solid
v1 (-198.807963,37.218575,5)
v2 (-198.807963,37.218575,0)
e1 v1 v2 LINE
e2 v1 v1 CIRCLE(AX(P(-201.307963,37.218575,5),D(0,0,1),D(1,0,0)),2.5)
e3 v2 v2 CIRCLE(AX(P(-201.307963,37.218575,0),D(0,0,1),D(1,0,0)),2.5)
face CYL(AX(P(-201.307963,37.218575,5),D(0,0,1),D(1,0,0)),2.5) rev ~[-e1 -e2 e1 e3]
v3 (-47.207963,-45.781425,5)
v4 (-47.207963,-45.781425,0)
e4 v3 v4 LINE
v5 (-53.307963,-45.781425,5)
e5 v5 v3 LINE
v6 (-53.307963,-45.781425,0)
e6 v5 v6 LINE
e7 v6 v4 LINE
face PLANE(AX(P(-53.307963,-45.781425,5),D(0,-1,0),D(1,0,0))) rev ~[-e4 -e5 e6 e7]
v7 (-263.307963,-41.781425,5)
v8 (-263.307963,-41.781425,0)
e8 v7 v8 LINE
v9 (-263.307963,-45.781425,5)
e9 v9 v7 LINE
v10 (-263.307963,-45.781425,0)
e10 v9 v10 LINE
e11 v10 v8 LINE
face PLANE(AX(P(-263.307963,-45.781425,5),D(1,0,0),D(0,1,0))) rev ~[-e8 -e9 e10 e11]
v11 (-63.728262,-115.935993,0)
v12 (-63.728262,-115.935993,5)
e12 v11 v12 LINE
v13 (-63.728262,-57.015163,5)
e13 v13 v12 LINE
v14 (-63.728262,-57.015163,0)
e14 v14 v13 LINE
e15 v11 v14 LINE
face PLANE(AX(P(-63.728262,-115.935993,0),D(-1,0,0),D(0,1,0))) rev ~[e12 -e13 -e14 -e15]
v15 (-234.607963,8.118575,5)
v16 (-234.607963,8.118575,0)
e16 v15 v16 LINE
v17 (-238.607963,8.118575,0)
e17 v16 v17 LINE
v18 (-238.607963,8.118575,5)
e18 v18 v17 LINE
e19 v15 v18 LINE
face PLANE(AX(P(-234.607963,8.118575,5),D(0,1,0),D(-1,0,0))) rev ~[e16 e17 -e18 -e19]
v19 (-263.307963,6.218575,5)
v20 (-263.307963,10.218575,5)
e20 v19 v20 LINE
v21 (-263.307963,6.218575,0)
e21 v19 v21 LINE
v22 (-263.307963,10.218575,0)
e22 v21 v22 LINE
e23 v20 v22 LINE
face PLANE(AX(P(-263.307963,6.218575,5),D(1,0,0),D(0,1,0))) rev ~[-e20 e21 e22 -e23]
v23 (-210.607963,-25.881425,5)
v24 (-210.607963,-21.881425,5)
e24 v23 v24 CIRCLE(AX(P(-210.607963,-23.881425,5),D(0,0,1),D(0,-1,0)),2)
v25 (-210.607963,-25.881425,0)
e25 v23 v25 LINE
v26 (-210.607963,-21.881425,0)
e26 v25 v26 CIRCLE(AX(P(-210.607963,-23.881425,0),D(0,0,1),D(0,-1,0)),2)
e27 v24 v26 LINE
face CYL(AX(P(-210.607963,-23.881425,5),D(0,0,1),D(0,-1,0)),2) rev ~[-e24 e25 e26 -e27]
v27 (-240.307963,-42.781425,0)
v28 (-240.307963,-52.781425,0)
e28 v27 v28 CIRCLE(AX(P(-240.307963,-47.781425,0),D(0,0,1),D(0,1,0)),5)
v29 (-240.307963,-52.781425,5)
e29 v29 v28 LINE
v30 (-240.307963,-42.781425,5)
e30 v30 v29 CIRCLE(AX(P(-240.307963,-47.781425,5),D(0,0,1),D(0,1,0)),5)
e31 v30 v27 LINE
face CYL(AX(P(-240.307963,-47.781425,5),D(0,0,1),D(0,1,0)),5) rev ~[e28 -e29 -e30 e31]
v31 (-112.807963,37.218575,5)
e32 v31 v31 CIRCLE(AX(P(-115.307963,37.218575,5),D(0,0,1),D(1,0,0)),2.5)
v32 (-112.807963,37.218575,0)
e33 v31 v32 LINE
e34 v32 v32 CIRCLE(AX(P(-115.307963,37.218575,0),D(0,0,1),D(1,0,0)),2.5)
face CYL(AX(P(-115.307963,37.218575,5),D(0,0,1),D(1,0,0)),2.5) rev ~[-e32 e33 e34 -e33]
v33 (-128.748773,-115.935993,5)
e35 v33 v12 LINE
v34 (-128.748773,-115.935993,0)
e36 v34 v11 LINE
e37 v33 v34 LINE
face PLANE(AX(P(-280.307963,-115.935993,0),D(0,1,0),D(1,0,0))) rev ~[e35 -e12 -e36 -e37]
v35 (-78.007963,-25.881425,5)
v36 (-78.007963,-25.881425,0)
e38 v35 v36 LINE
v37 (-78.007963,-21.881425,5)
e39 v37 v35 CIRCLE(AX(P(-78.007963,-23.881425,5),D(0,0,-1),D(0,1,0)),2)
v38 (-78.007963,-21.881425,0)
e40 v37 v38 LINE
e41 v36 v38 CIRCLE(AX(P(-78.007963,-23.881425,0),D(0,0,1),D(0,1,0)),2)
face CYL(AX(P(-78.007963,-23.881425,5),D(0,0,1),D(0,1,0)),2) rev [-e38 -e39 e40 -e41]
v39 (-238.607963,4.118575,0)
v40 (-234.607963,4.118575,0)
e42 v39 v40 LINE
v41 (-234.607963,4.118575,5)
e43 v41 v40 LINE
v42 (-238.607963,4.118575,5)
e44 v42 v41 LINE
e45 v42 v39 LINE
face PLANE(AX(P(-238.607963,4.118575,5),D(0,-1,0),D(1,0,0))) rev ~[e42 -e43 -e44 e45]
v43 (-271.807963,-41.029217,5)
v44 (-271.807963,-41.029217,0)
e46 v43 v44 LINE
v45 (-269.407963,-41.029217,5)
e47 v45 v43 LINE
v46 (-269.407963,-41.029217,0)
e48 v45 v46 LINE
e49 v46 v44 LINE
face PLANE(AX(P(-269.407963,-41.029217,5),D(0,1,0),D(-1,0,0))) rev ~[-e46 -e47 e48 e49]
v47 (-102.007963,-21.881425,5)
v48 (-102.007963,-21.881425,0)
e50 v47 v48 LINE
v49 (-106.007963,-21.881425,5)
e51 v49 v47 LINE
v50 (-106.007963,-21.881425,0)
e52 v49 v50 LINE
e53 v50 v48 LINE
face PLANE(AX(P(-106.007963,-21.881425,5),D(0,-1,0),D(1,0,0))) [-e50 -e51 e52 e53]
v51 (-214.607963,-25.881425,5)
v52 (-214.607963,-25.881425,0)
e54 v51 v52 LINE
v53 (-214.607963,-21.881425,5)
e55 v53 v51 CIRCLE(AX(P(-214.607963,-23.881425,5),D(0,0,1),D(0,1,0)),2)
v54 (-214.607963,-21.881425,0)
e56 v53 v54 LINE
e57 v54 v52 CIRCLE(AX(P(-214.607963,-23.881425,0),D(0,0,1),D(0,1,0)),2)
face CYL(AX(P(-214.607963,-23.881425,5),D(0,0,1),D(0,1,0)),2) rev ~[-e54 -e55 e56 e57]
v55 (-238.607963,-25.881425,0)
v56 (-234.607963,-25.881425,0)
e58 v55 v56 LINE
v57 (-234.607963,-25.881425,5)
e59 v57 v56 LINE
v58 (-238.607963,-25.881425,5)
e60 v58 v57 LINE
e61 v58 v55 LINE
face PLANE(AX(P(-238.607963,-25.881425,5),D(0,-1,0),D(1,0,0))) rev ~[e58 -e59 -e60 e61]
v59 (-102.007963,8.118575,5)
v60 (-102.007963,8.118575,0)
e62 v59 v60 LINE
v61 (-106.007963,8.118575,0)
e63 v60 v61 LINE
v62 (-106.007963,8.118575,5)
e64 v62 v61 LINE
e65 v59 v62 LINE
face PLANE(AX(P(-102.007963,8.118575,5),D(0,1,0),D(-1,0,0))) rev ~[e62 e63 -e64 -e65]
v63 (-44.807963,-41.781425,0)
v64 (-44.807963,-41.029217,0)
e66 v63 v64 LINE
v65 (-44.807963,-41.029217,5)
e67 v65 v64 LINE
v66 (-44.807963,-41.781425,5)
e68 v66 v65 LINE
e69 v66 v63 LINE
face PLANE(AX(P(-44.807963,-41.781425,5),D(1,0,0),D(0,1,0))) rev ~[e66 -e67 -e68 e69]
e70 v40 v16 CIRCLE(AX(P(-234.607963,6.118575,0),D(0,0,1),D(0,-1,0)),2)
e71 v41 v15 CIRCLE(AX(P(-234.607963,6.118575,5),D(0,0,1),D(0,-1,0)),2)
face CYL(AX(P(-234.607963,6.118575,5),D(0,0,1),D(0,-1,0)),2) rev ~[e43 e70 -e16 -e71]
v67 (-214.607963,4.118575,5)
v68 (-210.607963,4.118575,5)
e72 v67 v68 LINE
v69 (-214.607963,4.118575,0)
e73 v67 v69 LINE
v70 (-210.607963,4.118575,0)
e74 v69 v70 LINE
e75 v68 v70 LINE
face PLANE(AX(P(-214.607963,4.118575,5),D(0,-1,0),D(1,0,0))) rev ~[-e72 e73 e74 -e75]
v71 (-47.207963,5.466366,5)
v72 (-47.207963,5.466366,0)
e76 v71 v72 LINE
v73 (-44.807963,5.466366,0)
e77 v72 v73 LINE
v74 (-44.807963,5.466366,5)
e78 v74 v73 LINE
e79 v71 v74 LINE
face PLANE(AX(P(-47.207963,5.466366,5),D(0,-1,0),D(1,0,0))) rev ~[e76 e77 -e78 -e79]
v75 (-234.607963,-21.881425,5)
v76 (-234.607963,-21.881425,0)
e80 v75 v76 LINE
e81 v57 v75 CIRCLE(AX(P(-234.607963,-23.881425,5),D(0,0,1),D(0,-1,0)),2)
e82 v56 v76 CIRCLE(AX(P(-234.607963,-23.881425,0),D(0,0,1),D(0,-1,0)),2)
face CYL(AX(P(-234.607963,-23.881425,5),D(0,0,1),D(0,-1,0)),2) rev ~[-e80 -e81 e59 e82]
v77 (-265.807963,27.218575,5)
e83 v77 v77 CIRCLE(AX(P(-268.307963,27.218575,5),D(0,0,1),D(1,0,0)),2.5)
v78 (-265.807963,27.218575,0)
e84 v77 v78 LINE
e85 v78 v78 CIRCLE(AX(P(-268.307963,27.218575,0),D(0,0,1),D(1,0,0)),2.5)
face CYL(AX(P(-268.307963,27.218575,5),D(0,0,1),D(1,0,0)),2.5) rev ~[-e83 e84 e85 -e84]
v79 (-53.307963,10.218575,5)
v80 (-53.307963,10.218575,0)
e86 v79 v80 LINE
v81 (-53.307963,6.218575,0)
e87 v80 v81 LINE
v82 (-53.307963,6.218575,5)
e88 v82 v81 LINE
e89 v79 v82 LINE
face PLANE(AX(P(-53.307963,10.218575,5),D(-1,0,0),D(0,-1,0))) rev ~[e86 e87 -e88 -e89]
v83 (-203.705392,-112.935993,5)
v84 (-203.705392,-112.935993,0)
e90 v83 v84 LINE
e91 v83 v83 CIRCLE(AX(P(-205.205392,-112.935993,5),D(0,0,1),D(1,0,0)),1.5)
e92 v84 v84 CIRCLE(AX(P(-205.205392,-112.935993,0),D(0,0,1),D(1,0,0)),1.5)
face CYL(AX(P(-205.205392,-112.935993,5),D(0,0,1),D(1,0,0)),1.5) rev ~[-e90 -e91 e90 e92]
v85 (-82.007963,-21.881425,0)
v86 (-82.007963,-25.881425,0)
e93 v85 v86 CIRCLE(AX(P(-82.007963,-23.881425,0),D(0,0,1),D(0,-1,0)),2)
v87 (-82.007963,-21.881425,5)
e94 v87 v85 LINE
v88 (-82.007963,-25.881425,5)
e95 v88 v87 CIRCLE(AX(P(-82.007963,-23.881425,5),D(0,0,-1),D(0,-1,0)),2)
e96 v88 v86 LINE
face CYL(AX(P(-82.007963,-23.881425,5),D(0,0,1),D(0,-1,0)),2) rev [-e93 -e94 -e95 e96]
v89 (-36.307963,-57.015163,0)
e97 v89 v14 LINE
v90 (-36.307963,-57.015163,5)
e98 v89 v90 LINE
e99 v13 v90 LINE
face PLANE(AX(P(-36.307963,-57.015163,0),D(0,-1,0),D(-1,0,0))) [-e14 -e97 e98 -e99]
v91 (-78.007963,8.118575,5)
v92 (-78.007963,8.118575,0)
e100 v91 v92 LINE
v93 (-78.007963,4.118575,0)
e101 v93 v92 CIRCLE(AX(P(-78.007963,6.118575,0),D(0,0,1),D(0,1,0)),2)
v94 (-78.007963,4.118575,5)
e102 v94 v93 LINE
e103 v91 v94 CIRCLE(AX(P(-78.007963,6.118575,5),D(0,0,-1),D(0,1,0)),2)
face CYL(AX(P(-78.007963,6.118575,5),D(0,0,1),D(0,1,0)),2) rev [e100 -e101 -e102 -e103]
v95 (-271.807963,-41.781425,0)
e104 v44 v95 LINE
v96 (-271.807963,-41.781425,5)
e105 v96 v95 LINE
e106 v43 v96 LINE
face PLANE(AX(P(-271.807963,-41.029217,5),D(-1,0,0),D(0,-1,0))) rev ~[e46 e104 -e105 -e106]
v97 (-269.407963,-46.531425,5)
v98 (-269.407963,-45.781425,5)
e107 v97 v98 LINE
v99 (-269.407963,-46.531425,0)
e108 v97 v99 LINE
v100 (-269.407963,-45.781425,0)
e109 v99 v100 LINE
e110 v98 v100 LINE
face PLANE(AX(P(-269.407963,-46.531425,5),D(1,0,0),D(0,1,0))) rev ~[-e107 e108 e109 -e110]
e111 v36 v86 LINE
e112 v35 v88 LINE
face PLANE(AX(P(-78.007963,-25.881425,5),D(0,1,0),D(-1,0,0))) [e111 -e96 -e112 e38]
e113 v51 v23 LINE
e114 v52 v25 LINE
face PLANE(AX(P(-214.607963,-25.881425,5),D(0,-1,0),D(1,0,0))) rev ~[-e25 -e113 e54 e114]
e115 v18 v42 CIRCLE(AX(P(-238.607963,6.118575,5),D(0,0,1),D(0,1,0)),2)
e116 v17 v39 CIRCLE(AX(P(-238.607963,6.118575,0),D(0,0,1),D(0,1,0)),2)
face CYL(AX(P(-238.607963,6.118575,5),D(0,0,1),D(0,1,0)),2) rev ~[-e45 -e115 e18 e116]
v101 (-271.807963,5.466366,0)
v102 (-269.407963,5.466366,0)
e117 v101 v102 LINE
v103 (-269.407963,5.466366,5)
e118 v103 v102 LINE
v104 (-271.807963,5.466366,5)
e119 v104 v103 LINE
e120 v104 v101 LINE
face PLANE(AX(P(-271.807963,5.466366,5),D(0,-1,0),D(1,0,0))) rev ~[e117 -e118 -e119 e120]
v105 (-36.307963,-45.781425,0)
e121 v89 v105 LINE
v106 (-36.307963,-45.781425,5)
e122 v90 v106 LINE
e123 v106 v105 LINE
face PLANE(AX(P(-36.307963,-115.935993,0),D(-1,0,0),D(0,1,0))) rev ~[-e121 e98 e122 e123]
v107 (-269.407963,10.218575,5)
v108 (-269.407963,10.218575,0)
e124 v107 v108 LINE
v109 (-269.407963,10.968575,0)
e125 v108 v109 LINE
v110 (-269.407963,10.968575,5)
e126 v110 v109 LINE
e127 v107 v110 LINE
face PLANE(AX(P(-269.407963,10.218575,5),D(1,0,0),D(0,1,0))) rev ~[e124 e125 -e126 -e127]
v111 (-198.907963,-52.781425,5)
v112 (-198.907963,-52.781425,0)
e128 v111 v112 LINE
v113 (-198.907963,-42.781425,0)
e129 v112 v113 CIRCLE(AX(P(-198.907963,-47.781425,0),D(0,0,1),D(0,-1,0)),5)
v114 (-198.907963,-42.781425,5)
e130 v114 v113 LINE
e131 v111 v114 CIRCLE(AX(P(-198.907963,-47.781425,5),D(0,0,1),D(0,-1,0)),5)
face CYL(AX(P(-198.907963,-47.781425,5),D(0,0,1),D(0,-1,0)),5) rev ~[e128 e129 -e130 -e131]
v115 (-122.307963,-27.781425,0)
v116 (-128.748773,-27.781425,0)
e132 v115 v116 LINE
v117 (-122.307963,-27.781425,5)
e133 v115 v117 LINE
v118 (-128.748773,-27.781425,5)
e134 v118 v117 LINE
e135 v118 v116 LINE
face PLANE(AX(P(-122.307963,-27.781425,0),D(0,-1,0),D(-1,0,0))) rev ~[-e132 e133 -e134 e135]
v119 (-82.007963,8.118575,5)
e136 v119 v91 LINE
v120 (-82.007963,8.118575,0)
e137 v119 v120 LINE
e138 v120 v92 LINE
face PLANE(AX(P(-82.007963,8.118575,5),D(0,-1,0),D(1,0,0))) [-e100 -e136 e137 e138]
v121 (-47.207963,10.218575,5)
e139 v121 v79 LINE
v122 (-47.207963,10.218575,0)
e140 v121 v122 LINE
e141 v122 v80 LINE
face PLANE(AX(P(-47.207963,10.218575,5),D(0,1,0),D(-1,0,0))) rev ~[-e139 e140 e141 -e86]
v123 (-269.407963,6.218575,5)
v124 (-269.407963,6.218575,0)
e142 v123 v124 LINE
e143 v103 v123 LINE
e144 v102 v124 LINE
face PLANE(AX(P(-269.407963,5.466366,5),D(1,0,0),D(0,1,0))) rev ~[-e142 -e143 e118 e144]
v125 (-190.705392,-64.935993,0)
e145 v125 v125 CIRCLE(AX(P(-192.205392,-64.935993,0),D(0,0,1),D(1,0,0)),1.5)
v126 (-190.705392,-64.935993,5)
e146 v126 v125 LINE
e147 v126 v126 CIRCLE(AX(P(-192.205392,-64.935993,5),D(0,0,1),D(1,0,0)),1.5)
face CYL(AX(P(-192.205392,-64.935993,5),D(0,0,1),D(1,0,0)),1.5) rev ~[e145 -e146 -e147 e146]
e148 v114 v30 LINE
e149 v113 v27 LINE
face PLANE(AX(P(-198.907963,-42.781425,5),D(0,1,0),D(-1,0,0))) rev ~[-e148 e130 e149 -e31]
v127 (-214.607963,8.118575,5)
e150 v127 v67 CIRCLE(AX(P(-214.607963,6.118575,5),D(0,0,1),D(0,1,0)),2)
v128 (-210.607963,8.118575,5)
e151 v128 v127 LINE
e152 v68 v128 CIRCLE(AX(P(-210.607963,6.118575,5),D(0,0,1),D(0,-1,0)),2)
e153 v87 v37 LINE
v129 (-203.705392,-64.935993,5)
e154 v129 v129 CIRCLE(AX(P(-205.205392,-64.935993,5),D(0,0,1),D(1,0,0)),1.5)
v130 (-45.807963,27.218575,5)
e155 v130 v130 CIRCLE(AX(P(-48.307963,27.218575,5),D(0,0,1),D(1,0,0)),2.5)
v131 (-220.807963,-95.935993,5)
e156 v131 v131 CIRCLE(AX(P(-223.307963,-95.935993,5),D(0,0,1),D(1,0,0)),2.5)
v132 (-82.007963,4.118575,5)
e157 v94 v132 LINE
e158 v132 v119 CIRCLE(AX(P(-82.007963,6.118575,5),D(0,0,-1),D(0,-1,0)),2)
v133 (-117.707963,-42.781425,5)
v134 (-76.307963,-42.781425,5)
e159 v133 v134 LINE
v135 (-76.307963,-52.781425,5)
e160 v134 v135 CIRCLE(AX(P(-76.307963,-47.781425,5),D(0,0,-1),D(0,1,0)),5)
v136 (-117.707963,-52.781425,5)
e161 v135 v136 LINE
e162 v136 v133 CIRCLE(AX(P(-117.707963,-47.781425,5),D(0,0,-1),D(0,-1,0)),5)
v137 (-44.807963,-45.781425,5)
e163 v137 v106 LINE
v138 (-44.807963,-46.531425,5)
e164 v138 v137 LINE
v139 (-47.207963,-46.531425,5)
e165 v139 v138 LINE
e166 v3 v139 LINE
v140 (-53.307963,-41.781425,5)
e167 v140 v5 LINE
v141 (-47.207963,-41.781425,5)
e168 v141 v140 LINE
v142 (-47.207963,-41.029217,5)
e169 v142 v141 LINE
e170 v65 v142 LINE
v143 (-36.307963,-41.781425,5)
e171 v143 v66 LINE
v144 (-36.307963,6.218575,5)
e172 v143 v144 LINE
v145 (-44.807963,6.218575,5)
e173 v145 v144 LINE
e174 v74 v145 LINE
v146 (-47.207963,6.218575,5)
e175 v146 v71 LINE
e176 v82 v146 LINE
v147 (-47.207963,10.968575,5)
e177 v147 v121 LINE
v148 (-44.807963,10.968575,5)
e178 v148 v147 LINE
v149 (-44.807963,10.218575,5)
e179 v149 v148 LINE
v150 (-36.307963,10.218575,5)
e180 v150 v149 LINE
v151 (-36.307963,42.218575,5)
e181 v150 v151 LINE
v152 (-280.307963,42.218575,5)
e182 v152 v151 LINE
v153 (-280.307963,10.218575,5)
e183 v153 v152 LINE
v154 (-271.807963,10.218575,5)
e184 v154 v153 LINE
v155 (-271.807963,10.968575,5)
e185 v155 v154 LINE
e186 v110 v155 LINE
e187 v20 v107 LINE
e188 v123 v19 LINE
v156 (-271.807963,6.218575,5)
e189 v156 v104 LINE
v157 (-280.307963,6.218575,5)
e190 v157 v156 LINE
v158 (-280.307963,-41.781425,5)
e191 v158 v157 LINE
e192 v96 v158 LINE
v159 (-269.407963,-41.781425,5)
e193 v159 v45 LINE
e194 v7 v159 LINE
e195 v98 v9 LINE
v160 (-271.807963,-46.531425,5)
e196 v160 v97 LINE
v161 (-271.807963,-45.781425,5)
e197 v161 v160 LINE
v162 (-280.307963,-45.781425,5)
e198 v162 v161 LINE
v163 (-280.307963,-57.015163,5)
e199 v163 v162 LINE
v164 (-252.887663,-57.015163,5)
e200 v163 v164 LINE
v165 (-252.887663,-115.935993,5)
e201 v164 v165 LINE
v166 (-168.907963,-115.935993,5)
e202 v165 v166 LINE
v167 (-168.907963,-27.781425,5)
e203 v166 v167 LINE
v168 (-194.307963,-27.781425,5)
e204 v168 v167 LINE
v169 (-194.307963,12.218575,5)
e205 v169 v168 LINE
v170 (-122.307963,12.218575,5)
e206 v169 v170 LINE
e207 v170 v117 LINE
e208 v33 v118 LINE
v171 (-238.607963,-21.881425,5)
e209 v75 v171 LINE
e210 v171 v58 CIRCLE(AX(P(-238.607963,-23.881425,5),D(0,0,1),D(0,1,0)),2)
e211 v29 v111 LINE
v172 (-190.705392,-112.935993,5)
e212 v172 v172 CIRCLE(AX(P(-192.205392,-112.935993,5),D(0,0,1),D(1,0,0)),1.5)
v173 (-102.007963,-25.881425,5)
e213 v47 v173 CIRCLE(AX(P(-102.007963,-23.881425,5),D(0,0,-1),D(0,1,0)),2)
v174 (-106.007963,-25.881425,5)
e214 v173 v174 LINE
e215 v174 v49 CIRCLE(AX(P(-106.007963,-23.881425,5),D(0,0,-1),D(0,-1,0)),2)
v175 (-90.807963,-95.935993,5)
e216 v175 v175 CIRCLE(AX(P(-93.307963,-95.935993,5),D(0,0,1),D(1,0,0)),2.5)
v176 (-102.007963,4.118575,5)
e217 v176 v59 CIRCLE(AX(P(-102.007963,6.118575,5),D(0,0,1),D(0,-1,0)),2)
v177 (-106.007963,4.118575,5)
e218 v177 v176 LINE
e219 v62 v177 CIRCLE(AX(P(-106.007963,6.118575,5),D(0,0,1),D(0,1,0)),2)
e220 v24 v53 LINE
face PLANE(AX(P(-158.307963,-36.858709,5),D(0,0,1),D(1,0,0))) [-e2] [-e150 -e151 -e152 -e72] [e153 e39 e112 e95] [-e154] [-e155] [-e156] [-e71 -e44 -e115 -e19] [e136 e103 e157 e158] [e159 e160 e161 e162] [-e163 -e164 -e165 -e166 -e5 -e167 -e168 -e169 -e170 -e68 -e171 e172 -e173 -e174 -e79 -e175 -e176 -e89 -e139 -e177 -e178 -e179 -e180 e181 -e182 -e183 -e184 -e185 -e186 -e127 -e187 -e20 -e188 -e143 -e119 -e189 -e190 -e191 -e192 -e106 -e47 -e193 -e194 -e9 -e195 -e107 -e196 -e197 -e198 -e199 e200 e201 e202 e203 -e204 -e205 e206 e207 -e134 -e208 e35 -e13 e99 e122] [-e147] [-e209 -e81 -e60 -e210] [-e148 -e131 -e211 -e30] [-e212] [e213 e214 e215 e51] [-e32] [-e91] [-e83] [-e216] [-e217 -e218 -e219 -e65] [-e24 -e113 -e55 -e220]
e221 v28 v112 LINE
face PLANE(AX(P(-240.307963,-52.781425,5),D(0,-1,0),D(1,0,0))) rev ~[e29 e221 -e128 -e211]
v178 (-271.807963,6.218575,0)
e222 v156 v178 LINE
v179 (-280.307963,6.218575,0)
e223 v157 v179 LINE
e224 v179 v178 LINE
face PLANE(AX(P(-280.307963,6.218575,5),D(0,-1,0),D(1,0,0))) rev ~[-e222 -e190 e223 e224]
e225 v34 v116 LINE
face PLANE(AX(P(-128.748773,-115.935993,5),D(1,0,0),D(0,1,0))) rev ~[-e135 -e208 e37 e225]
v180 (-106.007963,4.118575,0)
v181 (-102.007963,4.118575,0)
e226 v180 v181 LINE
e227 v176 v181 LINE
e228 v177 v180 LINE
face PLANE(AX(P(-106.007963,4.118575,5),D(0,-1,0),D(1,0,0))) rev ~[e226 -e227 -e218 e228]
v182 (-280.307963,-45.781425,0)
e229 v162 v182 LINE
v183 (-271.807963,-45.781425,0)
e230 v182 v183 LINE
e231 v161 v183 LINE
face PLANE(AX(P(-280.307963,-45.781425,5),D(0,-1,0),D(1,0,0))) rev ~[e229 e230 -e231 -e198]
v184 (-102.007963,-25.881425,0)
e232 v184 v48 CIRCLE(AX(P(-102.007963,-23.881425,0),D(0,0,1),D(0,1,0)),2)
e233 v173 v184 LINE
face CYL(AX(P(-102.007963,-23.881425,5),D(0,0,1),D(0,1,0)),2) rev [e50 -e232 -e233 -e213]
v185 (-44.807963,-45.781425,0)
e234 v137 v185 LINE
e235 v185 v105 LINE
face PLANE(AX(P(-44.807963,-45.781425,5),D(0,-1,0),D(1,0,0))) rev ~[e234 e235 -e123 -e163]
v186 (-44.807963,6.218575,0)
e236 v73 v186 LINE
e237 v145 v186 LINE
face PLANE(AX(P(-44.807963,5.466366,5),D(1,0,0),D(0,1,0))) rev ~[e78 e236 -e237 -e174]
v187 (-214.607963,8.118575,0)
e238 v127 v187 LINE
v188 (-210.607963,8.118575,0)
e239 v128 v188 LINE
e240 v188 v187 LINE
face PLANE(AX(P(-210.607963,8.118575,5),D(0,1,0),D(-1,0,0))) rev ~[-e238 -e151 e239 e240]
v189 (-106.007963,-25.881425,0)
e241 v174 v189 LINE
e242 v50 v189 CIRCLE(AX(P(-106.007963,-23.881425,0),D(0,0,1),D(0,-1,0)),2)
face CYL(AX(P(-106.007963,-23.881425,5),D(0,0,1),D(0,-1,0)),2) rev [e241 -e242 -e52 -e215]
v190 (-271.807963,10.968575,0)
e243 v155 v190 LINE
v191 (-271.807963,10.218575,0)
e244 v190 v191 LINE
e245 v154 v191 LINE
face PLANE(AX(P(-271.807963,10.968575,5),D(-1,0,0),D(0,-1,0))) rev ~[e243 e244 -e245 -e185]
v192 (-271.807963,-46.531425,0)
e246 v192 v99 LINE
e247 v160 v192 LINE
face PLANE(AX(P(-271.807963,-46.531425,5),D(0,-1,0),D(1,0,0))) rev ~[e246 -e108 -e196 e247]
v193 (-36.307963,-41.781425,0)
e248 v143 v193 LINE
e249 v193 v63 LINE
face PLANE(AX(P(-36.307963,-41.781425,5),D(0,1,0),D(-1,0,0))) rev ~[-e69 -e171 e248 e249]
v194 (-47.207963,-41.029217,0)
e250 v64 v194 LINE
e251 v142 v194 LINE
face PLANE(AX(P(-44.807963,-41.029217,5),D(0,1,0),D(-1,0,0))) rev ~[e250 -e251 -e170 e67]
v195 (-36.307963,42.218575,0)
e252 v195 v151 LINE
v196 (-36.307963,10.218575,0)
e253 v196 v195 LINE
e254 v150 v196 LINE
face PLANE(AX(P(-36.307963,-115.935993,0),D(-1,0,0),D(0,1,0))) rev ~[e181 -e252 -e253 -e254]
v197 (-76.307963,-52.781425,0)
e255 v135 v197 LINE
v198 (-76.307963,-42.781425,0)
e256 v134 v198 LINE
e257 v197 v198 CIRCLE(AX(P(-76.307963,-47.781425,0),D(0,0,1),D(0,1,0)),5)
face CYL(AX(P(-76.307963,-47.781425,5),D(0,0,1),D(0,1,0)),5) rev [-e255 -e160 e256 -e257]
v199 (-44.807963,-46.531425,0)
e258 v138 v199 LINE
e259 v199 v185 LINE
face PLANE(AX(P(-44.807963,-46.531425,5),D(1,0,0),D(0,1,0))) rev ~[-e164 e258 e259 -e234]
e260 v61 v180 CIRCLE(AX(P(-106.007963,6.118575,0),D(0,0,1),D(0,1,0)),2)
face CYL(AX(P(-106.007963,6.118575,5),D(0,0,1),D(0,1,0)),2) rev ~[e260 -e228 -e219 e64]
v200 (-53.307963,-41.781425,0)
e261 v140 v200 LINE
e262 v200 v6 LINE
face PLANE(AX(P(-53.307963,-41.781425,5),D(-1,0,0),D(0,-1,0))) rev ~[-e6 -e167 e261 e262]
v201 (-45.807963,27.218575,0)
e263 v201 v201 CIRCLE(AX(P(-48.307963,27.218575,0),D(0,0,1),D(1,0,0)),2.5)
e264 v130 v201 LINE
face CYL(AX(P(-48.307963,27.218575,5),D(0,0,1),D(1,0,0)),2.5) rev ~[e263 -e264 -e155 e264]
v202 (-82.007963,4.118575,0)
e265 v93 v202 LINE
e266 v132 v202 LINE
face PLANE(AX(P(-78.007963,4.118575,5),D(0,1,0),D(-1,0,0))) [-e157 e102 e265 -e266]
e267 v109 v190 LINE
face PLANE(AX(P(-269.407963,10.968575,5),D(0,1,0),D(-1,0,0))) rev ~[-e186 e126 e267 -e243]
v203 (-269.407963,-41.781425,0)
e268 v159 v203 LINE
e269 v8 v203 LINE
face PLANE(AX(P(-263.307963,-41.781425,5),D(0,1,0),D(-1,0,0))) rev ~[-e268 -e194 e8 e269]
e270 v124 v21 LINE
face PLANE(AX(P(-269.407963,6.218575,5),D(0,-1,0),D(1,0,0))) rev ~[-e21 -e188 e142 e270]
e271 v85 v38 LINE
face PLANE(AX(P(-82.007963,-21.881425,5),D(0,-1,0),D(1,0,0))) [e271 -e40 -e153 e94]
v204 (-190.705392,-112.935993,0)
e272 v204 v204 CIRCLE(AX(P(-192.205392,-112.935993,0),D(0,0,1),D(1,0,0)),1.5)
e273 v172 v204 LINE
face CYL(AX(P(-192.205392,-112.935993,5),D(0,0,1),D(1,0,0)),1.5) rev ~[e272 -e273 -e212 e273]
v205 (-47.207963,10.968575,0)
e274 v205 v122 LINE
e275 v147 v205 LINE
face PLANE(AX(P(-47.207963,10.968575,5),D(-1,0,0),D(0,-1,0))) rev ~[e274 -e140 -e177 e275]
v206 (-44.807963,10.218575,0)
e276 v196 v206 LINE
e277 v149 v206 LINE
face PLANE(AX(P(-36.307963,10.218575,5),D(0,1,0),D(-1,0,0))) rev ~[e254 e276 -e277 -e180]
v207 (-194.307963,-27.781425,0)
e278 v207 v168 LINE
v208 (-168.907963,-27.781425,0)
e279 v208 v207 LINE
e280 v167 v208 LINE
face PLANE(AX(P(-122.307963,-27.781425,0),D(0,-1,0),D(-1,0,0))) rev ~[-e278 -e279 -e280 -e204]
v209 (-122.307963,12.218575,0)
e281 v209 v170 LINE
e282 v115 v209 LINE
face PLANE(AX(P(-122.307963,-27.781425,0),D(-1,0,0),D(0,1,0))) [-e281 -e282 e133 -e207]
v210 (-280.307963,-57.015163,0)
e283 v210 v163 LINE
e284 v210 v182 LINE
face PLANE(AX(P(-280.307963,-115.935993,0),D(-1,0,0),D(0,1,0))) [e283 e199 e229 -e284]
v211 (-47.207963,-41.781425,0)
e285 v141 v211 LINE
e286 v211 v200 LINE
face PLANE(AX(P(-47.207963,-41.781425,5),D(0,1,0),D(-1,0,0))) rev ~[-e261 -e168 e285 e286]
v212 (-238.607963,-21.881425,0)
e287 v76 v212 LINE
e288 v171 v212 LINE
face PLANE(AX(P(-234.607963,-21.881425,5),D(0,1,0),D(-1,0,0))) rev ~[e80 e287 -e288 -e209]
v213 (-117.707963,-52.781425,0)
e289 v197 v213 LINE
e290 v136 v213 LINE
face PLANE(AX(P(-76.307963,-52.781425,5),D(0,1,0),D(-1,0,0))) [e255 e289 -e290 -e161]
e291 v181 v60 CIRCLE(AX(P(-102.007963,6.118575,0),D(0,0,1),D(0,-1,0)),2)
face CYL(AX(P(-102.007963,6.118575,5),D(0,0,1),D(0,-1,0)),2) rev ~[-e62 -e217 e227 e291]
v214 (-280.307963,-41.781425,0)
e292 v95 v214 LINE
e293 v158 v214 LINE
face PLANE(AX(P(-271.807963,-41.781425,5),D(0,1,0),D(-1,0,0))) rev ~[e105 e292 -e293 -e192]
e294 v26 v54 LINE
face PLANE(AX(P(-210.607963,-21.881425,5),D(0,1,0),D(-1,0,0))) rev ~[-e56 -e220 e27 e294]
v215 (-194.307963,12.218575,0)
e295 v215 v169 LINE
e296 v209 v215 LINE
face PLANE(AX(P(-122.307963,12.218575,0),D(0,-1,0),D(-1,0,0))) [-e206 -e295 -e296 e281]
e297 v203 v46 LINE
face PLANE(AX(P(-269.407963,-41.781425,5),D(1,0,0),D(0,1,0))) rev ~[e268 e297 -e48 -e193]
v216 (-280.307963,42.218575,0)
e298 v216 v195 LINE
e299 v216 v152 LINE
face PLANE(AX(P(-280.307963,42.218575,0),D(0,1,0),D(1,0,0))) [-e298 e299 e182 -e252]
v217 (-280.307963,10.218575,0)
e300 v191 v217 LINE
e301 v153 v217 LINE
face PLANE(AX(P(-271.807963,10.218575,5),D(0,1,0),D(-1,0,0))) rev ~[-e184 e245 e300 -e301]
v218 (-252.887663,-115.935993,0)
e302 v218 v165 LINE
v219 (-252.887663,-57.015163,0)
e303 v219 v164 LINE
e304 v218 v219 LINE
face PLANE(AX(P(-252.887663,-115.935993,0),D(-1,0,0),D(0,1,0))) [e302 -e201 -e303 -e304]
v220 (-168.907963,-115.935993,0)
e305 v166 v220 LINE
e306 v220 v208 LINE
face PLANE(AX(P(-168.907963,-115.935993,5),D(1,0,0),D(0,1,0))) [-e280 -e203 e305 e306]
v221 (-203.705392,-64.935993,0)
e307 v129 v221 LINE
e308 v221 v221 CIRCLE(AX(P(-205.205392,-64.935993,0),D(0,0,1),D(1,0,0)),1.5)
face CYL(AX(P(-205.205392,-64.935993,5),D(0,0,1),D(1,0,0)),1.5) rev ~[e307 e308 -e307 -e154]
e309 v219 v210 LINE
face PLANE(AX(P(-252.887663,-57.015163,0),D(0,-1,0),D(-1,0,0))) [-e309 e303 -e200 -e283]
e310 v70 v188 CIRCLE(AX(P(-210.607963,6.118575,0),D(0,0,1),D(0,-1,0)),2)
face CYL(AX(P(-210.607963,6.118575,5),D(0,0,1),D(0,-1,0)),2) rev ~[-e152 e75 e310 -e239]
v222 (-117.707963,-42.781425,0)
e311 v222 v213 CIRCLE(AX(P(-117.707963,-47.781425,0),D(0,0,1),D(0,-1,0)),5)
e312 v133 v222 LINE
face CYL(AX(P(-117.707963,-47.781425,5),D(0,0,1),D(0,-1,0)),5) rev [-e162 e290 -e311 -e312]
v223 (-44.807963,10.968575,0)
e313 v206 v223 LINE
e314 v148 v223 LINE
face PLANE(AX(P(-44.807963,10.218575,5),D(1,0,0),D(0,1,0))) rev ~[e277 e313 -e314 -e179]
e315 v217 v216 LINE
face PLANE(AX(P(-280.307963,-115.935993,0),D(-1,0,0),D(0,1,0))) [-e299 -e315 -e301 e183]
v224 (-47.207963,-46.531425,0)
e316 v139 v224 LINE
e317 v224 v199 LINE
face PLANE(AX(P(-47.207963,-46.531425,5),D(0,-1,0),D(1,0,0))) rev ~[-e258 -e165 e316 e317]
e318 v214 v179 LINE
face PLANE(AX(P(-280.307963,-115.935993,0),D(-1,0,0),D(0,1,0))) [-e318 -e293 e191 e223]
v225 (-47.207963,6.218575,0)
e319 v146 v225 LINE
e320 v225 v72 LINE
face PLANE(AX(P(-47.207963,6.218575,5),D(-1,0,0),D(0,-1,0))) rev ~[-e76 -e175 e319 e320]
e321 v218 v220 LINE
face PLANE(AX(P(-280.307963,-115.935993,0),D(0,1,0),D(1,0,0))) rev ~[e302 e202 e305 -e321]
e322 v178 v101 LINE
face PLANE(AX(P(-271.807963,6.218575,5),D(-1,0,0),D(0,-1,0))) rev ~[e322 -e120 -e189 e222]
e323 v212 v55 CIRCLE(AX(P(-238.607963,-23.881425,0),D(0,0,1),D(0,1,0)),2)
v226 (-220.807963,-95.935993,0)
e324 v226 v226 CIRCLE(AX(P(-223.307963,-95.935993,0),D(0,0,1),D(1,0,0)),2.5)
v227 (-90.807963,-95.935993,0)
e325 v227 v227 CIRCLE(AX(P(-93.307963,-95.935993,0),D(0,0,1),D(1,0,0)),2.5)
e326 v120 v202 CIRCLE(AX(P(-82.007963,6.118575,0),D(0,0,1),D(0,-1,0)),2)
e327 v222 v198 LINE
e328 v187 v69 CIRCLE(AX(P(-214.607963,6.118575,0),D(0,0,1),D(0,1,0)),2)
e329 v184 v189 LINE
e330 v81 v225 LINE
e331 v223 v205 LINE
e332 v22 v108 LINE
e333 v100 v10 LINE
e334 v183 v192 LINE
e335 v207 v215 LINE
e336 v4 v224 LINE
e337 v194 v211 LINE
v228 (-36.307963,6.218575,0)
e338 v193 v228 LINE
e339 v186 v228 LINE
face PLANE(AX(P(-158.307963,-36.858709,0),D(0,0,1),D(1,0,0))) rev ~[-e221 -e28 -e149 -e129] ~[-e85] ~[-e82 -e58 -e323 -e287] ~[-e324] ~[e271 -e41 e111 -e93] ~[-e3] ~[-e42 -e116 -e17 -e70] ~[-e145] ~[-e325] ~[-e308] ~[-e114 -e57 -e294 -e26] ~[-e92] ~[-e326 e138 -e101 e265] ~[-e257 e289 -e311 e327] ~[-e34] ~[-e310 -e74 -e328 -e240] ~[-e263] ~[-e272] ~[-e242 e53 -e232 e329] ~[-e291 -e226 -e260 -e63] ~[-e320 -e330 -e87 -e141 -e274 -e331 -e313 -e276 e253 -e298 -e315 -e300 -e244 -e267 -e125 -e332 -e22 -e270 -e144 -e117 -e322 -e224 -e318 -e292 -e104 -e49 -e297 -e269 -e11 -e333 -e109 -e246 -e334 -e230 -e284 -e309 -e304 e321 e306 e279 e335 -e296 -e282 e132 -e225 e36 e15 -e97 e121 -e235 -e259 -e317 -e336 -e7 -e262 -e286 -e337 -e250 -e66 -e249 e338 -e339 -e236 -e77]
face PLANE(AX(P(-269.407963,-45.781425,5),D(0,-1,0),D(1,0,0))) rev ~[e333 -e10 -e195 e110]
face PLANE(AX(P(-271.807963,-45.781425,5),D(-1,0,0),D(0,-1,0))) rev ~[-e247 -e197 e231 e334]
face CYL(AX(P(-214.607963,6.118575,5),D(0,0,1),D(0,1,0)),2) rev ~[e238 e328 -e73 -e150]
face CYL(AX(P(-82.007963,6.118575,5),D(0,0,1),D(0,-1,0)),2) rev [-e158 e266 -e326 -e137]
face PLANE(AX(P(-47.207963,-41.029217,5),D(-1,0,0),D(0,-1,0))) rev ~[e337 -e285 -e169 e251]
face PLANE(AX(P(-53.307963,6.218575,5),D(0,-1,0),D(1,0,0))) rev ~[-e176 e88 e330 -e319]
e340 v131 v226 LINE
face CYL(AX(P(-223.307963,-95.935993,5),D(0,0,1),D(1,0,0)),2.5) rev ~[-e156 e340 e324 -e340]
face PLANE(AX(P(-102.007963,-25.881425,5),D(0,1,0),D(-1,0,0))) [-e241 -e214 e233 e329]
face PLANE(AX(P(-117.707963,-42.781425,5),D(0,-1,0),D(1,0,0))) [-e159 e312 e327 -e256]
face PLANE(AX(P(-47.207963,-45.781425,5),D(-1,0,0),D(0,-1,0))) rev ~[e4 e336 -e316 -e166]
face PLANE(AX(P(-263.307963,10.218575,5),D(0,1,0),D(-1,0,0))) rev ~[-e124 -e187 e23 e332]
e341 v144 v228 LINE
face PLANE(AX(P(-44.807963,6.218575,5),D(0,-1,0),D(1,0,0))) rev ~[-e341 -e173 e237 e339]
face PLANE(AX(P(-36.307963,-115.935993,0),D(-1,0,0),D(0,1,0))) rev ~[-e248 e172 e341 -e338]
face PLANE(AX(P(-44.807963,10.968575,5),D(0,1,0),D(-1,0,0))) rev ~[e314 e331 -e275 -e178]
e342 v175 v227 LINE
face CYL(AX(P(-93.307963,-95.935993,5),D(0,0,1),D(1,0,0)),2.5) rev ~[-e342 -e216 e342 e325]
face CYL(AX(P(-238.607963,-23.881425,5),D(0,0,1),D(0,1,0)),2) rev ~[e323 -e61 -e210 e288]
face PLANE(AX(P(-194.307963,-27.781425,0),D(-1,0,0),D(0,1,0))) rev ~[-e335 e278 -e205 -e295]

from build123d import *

# Parameters (mm, degrees)
SKETCH1_W           = 244
SKETCH1_H           = 158.154567899
BOSS_EXTRUDE1_DEPTH = 5
SKETCH7_W           = 27.420299367
SKETCH7_H           = 58.920830548
SKETCH7_W_2         = 72
SKETCH7_H_2         = 40
CUT_EXTRUDE3_DEPTH  = 10
SKETCH8_W           = 40.15918936
SKETCH8_H           = 88.154567899
CUT_EXTRUDE4_DEPTH  = 10
SKETCH9_R           = 2.5
CUT_EXTRUDE5_DEPTH  = 10
CUT_EXTRUDE6_DEPTH  = 10
SKETCH13_R          = 1.5
CUT_EXTRUDE8_DEPTH  = 10
CUT_EXTRUDE10_DEPTH = 10
CUT_EXTRUDE11_DEPTH = 10


with BuildPart() as part:
    # Sketch1 → Boss-Extrude1 (new body)
    with BuildSketch(Plane.XY):
        with Locations((-158.307962763, -36.858709382)):
            Rectangle(SKETCH1_W, SKETCH1_H)
    extrude(amount=BOSS_EXTRUDE1_DEPTH)

    # Sketch7 → Cut-Extrude3 (cut)
    with BuildSketch(Plane(origin=(0, 0, 0), x_dir=(-1, 0, 0), z_dir=(0, 0, -1))):
        with Locations((266.59781308, -86.475578057)):
            Rectangle(SKETCH7_W, SKETCH7_H)
        with Locations((50.018112446, -86.475578057)):
            Rectangle(SKETCH7_W, SKETCH7_H)
        with Locations((158.307962763, -7.781425432)):
            Rectangle(SKETCH7_W_2, SKETCH7_H_2)
    extrude(amount=-CUT_EXTRUDE3_DEPTH, mode=Mode.SUBTRACT)

    # Sketch8 → Cut-Extrude4 (cut)
    with BuildSketch(Plane.XY.offset(5)):
        with Locations((-148.828368083, -71.858709382)):
            Rectangle(SKETCH8_W, SKETCH8_H)
    extrude(amount=-CUT_EXTRUDE4_DEPTH, mode=Mode.SUBTRACT)

    # Sketch9 → Cut-Extrude5 (cut)
    with BuildSketch(Plane.XY.offset(5)):
        with Locations((-93.307962763, -95.935993331)):
            Circle(SKETCH9_R)
        with Locations((-223.307962763, -95.935993331)):
            Circle(SKETCH9_R)
        with Locations((-268.307962763, 27.218574568)):
            Circle(SKETCH9_R)
        with Locations((-48.307962763, 27.218574568)):
            Circle(SKETCH9_R)
        with Locations((-115.307962763, 37.218574568)):
            Circle(SKETCH9_R)
        with Locations((-201.307962763, 37.218574568)):
            Circle(SKETCH9_R)
    extrude(amount=-CUT_EXTRUDE5_DEPTH, mode=Mode.SUBTRACT)

    # Sketch10 → Cut-Extrude6 (cut)
    with BuildSketch(Plane.XY.offset(5)):
        Polygon((-271.807962763, 10.218574568), (-280.307962763, 10.218574568), (-280.307962763, 6.218574568), (-271.807962763, 6.218574568), (-271.807962763, 5.466366238), (-269.407962763, 5.466366238), (-269.407962763, 6.218574568), (-263.307962763, 6.218574568), (-263.307962763, 10.218574568), (-269.407962763, 10.218574568), (-269.407962763, 10.968574568), (-271.807962763, 10.968574568), align=None)
        Polygon((-271.807962763, -41.781425432), (-280.307962763, -41.781425432), (-280.307962763, -45.781425432), (-271.807962763, -45.781425432), (-271.807962763, -46.531425432), (-269.407962763, -46.531425432), (-269.407962763, -45.781425432), (-263.307962763, -45.781425432), (-263.307962763, -41.781425432), (-269.407962763, -41.781425432), (-269.407962763, -41.029217101), (-271.807962763, -41.029217101), align=None)
        Polygon((-53.307962763, -41.781425432), (-53.307962763, -45.781425432), (-47.207962763, -45.781425432), (-47.207962763, -46.531425432), (-44.807962763, -46.531425432), (-44.807962763, -45.781425432), (-36.307962763, -45.781425432), (-36.307962763, -41.781425432), (-44.807962763, -41.781425432), (-44.807962763, -41.029217101), (-47.207962763, -41.029217101), (-47.207962763, -41.781425432), align=None)
        Polygon((-44.807962763, 6.218574568), (-36.307962763, 6.218574568), (-36.307962763, 10.218574568), (-44.807962763, 10.218574568), (-44.807962763, 10.968574568), (-47.207962763, 10.968574568), (-47.207962763, 10.218574568), (-53.307962763, 10.218574568), (-53.307962763, 6.218574568), (-47.207962763, 6.218574568), (-47.207962763, 5.466366238), (-44.807962763, 5.466366238), align=None)
    extrude(amount=-CUT_EXTRUDE6_DEPTH, mode=Mode.SUBTRACT)

    # Sketch13 → Cut-Extrude8 (cut)
    with BuildSketch(Plane.XY.offset(5)):
        with Locations((-205.205391913, -112.935993331)):
            Circle(SKETCH13_R)
        with Locations((-205.205391913, -64.935993331)):
            Circle(SKETCH13_R)
        with Locations((-192.205391913, -112.935993331)):
            Circle(SKETCH13_R)
        with Locations((-192.205391913, -64.935993331)):
            Circle(SKETCH13_R)
    extrude(amount=-CUT_EXTRUDE8_DEPTH, mode=Mode.SUBTRACT)

    # Sketch15 → Cut-Extrude10 (cut)
    with BuildSketch(Plane.XY.offset(5)):
        with BuildLine():
            Line((-198.907962763, -42.781425432), (-240.307962763, -42.781425432))
            ThreePointArc((-240.307962763, -42.781425432), (-245.307962763, -47.781425432), (-240.307962763, -52.781425432))
            Line((-240.307962763, -52.781425432), (-198.907962763, -52.781425432))
            ThreePointArc((-198.907962763, -52.781425432), (-193.907962763, -47.781425432), (-198.907962763, -42.781425432))
        make_face()
        with BuildLine():
            Line((-117.707962763, -42.781425432), (-76.307962763, -42.781425432))
            ThreePointArc((-76.307962763, -42.781425432), (-71.307962763, -47.781425432), (-76.307962763, -52.781425432))
            Line((-76.307962763, -52.781425432), (-117.707962763, -52.781425432))
            ThreePointArc((-117.707962763, -52.781425432), (-122.707962763, -47.781425432), (-117.707962763, -42.781425432))
        make_face()
    extrude(amount=-CUT_EXTRUDE10_DEPTH, mode=Mode.SUBTRACT)

    # Sketch16 → Cut-Extrude11 (cut)
    with BuildSketch(Plane.XY.offset(5)):
        with BuildLine():
            Line((-212.607962763, -25.881425432), (-210.607962763, -25.881425432))
            ThreePointArc((-210.607962763, -25.881425432), (-208.607962763, -23.881425432), (-210.607962763, -21.881425432))
            Line((-210.607962763, -21.881425432), (-214.607962763, -21.881425432))
            ThreePointArc((-214.607962763, -21.881425432), (-216.607962763, -23.881425432), (-214.607962763, -25.881425432))
            Line((-214.607962763, -25.881425432), (-212.607962763, -25.881425432))
        make_face()
        with BuildLine():
            Line((-236.607962763, -25.881425432), (-234.607962763, -25.881425432))
            ThreePointArc((-234.607962763, -25.881425432), (-232.607962763, -23.881425432), (-234.607962763, -21.881425432))
            Line((-234.607962763, -21.881425432), (-238.607962763, -21.881425432))
            ThreePointArc((-238.607962763, -21.881425432), (-240.607962763, -23.881425432), (-238.607962763, -25.881425432))
            Line((-238.607962763, -25.881425432), (-236.607962763, -25.881425432))
        make_face()
        with BuildLine():
            Line((-212.607962763, 4.118574568), (-210.607962763, 4.118574568))
            ThreePointArc((-210.607962763, 4.118574568), (-208.607962763, 6.118574568), (-210.607962763, 8.118574568))
            Line((-210.607962763, 8.118574568), (-212.607962763, 8.118574568))
            Line((-212.607962763, 8.118574568), (-214.607962763, 8.118574568))
            ThreePointArc((-214.607962763, 8.118574568), (-216.607962763, 6.118574568), (-214.607962763, 4.118574568))
            Line((-214.607962763, 4.118574568), (-212.607962763, 4.118574568))
        make_face()
        with BuildLine():
            Line((-236.607962763, 4.118574568), (-234.607962763, 4.118574568))
            ThreePointArc((-234.607962763, 4.118574568), (-232.607962763, 6.118574568), (-234.607962763, 8.118574568))
            Line((-234.607962763, 8.118574568), (-238.607962763, 8.118574568))
            ThreePointArc((-238.607962763, 8.118574568), (-240.607962763, 6.118574568), (-238.607962763, 4.118574568))
            Line((-238.607962763, 4.118574568), (-236.607962763, 4.118574568))
        make_face()
        with BuildLine():
            Line((-78.007962763, 4.118574568), (-80.007962763, 4.118574568))
            Line((-80.007962763, 4.118574568), (-82.007962763, 4.118574568))
            ThreePointArc((-82.007962763, 4.118574568), (-84.007962763, 6.118574568), (-82.007962763, 8.118574568))
            Line((-82.007962763, 8.118574568), (-78.007962763, 8.118574568))
            ThreePointArc((-78.007962763, 8.118574568), (-76.007962763, 6.118574568), (-78.007962763, 4.118574568))
        make_face()
        with BuildLine():
            Line((-78.007962763, -25.881425432), (-80.007962763, -25.881425432))
            Line((-80.007962763, -25.881425432), (-82.007962763, -25.881425432))
            ThreePointArc((-82.007962763, -25.881425432), (-84.007962763, -23.881425432), (-82.007962763, -21.881425432))
            Line((-82.007962763, -21.881425432), (-78.007962763, -21.881425432))
            ThreePointArc((-78.007962763, -21.881425432), (-76.007962763, -23.881425432), (-78.007962763, -25.881425432))
        make_face()
        with BuildLine():
            Line((-102.007962763, 8.118574568), (-104.007962763, 8.118574568))
            Line((-104.007962763, 8.118574568), (-106.007962763, 8.118574568))
            ThreePointArc((-106.007962763, 8.118574568), (-108.007962763, 6.118574568), (-106.007962763, 4.118574568))
            Line((-106.007962763, 4.118574568), (-104.007962763, 4.118574568))
            Line((-104.007962763, 4.118574568), (-102.007962763, 4.118574568))
            ThreePointArc((-102.007962763, 4.118574568), (-100.007962763, 6.118574568), (-102.007962763, 8.118574568))
        make_face()
        with BuildLine():
            Line((-102.007962763, -25.881425432), (-104.007962763, -25.881425432))
            Line((-104.007962763, -25.881425432), (-106.007962763, -25.881425432))
            ThreePointArc((-106.007962763, -25.881425432), (-108.007962763, -23.881425432), (-106.007962763, -21.881425432))
            Line((-106.007962763, -21.881425432), (-102.007962763, -21.881425432))
            ThreePointArc((-102.007962763, -21.881425432), (-100.007962763, -23.881425432), (-102.007962763, -25.881425432))
        make_face()
    extrude(amount=-CUT_EXTRUDE11_DEPTH, mode=Mode.SUBTRACT)


solid = part.part
